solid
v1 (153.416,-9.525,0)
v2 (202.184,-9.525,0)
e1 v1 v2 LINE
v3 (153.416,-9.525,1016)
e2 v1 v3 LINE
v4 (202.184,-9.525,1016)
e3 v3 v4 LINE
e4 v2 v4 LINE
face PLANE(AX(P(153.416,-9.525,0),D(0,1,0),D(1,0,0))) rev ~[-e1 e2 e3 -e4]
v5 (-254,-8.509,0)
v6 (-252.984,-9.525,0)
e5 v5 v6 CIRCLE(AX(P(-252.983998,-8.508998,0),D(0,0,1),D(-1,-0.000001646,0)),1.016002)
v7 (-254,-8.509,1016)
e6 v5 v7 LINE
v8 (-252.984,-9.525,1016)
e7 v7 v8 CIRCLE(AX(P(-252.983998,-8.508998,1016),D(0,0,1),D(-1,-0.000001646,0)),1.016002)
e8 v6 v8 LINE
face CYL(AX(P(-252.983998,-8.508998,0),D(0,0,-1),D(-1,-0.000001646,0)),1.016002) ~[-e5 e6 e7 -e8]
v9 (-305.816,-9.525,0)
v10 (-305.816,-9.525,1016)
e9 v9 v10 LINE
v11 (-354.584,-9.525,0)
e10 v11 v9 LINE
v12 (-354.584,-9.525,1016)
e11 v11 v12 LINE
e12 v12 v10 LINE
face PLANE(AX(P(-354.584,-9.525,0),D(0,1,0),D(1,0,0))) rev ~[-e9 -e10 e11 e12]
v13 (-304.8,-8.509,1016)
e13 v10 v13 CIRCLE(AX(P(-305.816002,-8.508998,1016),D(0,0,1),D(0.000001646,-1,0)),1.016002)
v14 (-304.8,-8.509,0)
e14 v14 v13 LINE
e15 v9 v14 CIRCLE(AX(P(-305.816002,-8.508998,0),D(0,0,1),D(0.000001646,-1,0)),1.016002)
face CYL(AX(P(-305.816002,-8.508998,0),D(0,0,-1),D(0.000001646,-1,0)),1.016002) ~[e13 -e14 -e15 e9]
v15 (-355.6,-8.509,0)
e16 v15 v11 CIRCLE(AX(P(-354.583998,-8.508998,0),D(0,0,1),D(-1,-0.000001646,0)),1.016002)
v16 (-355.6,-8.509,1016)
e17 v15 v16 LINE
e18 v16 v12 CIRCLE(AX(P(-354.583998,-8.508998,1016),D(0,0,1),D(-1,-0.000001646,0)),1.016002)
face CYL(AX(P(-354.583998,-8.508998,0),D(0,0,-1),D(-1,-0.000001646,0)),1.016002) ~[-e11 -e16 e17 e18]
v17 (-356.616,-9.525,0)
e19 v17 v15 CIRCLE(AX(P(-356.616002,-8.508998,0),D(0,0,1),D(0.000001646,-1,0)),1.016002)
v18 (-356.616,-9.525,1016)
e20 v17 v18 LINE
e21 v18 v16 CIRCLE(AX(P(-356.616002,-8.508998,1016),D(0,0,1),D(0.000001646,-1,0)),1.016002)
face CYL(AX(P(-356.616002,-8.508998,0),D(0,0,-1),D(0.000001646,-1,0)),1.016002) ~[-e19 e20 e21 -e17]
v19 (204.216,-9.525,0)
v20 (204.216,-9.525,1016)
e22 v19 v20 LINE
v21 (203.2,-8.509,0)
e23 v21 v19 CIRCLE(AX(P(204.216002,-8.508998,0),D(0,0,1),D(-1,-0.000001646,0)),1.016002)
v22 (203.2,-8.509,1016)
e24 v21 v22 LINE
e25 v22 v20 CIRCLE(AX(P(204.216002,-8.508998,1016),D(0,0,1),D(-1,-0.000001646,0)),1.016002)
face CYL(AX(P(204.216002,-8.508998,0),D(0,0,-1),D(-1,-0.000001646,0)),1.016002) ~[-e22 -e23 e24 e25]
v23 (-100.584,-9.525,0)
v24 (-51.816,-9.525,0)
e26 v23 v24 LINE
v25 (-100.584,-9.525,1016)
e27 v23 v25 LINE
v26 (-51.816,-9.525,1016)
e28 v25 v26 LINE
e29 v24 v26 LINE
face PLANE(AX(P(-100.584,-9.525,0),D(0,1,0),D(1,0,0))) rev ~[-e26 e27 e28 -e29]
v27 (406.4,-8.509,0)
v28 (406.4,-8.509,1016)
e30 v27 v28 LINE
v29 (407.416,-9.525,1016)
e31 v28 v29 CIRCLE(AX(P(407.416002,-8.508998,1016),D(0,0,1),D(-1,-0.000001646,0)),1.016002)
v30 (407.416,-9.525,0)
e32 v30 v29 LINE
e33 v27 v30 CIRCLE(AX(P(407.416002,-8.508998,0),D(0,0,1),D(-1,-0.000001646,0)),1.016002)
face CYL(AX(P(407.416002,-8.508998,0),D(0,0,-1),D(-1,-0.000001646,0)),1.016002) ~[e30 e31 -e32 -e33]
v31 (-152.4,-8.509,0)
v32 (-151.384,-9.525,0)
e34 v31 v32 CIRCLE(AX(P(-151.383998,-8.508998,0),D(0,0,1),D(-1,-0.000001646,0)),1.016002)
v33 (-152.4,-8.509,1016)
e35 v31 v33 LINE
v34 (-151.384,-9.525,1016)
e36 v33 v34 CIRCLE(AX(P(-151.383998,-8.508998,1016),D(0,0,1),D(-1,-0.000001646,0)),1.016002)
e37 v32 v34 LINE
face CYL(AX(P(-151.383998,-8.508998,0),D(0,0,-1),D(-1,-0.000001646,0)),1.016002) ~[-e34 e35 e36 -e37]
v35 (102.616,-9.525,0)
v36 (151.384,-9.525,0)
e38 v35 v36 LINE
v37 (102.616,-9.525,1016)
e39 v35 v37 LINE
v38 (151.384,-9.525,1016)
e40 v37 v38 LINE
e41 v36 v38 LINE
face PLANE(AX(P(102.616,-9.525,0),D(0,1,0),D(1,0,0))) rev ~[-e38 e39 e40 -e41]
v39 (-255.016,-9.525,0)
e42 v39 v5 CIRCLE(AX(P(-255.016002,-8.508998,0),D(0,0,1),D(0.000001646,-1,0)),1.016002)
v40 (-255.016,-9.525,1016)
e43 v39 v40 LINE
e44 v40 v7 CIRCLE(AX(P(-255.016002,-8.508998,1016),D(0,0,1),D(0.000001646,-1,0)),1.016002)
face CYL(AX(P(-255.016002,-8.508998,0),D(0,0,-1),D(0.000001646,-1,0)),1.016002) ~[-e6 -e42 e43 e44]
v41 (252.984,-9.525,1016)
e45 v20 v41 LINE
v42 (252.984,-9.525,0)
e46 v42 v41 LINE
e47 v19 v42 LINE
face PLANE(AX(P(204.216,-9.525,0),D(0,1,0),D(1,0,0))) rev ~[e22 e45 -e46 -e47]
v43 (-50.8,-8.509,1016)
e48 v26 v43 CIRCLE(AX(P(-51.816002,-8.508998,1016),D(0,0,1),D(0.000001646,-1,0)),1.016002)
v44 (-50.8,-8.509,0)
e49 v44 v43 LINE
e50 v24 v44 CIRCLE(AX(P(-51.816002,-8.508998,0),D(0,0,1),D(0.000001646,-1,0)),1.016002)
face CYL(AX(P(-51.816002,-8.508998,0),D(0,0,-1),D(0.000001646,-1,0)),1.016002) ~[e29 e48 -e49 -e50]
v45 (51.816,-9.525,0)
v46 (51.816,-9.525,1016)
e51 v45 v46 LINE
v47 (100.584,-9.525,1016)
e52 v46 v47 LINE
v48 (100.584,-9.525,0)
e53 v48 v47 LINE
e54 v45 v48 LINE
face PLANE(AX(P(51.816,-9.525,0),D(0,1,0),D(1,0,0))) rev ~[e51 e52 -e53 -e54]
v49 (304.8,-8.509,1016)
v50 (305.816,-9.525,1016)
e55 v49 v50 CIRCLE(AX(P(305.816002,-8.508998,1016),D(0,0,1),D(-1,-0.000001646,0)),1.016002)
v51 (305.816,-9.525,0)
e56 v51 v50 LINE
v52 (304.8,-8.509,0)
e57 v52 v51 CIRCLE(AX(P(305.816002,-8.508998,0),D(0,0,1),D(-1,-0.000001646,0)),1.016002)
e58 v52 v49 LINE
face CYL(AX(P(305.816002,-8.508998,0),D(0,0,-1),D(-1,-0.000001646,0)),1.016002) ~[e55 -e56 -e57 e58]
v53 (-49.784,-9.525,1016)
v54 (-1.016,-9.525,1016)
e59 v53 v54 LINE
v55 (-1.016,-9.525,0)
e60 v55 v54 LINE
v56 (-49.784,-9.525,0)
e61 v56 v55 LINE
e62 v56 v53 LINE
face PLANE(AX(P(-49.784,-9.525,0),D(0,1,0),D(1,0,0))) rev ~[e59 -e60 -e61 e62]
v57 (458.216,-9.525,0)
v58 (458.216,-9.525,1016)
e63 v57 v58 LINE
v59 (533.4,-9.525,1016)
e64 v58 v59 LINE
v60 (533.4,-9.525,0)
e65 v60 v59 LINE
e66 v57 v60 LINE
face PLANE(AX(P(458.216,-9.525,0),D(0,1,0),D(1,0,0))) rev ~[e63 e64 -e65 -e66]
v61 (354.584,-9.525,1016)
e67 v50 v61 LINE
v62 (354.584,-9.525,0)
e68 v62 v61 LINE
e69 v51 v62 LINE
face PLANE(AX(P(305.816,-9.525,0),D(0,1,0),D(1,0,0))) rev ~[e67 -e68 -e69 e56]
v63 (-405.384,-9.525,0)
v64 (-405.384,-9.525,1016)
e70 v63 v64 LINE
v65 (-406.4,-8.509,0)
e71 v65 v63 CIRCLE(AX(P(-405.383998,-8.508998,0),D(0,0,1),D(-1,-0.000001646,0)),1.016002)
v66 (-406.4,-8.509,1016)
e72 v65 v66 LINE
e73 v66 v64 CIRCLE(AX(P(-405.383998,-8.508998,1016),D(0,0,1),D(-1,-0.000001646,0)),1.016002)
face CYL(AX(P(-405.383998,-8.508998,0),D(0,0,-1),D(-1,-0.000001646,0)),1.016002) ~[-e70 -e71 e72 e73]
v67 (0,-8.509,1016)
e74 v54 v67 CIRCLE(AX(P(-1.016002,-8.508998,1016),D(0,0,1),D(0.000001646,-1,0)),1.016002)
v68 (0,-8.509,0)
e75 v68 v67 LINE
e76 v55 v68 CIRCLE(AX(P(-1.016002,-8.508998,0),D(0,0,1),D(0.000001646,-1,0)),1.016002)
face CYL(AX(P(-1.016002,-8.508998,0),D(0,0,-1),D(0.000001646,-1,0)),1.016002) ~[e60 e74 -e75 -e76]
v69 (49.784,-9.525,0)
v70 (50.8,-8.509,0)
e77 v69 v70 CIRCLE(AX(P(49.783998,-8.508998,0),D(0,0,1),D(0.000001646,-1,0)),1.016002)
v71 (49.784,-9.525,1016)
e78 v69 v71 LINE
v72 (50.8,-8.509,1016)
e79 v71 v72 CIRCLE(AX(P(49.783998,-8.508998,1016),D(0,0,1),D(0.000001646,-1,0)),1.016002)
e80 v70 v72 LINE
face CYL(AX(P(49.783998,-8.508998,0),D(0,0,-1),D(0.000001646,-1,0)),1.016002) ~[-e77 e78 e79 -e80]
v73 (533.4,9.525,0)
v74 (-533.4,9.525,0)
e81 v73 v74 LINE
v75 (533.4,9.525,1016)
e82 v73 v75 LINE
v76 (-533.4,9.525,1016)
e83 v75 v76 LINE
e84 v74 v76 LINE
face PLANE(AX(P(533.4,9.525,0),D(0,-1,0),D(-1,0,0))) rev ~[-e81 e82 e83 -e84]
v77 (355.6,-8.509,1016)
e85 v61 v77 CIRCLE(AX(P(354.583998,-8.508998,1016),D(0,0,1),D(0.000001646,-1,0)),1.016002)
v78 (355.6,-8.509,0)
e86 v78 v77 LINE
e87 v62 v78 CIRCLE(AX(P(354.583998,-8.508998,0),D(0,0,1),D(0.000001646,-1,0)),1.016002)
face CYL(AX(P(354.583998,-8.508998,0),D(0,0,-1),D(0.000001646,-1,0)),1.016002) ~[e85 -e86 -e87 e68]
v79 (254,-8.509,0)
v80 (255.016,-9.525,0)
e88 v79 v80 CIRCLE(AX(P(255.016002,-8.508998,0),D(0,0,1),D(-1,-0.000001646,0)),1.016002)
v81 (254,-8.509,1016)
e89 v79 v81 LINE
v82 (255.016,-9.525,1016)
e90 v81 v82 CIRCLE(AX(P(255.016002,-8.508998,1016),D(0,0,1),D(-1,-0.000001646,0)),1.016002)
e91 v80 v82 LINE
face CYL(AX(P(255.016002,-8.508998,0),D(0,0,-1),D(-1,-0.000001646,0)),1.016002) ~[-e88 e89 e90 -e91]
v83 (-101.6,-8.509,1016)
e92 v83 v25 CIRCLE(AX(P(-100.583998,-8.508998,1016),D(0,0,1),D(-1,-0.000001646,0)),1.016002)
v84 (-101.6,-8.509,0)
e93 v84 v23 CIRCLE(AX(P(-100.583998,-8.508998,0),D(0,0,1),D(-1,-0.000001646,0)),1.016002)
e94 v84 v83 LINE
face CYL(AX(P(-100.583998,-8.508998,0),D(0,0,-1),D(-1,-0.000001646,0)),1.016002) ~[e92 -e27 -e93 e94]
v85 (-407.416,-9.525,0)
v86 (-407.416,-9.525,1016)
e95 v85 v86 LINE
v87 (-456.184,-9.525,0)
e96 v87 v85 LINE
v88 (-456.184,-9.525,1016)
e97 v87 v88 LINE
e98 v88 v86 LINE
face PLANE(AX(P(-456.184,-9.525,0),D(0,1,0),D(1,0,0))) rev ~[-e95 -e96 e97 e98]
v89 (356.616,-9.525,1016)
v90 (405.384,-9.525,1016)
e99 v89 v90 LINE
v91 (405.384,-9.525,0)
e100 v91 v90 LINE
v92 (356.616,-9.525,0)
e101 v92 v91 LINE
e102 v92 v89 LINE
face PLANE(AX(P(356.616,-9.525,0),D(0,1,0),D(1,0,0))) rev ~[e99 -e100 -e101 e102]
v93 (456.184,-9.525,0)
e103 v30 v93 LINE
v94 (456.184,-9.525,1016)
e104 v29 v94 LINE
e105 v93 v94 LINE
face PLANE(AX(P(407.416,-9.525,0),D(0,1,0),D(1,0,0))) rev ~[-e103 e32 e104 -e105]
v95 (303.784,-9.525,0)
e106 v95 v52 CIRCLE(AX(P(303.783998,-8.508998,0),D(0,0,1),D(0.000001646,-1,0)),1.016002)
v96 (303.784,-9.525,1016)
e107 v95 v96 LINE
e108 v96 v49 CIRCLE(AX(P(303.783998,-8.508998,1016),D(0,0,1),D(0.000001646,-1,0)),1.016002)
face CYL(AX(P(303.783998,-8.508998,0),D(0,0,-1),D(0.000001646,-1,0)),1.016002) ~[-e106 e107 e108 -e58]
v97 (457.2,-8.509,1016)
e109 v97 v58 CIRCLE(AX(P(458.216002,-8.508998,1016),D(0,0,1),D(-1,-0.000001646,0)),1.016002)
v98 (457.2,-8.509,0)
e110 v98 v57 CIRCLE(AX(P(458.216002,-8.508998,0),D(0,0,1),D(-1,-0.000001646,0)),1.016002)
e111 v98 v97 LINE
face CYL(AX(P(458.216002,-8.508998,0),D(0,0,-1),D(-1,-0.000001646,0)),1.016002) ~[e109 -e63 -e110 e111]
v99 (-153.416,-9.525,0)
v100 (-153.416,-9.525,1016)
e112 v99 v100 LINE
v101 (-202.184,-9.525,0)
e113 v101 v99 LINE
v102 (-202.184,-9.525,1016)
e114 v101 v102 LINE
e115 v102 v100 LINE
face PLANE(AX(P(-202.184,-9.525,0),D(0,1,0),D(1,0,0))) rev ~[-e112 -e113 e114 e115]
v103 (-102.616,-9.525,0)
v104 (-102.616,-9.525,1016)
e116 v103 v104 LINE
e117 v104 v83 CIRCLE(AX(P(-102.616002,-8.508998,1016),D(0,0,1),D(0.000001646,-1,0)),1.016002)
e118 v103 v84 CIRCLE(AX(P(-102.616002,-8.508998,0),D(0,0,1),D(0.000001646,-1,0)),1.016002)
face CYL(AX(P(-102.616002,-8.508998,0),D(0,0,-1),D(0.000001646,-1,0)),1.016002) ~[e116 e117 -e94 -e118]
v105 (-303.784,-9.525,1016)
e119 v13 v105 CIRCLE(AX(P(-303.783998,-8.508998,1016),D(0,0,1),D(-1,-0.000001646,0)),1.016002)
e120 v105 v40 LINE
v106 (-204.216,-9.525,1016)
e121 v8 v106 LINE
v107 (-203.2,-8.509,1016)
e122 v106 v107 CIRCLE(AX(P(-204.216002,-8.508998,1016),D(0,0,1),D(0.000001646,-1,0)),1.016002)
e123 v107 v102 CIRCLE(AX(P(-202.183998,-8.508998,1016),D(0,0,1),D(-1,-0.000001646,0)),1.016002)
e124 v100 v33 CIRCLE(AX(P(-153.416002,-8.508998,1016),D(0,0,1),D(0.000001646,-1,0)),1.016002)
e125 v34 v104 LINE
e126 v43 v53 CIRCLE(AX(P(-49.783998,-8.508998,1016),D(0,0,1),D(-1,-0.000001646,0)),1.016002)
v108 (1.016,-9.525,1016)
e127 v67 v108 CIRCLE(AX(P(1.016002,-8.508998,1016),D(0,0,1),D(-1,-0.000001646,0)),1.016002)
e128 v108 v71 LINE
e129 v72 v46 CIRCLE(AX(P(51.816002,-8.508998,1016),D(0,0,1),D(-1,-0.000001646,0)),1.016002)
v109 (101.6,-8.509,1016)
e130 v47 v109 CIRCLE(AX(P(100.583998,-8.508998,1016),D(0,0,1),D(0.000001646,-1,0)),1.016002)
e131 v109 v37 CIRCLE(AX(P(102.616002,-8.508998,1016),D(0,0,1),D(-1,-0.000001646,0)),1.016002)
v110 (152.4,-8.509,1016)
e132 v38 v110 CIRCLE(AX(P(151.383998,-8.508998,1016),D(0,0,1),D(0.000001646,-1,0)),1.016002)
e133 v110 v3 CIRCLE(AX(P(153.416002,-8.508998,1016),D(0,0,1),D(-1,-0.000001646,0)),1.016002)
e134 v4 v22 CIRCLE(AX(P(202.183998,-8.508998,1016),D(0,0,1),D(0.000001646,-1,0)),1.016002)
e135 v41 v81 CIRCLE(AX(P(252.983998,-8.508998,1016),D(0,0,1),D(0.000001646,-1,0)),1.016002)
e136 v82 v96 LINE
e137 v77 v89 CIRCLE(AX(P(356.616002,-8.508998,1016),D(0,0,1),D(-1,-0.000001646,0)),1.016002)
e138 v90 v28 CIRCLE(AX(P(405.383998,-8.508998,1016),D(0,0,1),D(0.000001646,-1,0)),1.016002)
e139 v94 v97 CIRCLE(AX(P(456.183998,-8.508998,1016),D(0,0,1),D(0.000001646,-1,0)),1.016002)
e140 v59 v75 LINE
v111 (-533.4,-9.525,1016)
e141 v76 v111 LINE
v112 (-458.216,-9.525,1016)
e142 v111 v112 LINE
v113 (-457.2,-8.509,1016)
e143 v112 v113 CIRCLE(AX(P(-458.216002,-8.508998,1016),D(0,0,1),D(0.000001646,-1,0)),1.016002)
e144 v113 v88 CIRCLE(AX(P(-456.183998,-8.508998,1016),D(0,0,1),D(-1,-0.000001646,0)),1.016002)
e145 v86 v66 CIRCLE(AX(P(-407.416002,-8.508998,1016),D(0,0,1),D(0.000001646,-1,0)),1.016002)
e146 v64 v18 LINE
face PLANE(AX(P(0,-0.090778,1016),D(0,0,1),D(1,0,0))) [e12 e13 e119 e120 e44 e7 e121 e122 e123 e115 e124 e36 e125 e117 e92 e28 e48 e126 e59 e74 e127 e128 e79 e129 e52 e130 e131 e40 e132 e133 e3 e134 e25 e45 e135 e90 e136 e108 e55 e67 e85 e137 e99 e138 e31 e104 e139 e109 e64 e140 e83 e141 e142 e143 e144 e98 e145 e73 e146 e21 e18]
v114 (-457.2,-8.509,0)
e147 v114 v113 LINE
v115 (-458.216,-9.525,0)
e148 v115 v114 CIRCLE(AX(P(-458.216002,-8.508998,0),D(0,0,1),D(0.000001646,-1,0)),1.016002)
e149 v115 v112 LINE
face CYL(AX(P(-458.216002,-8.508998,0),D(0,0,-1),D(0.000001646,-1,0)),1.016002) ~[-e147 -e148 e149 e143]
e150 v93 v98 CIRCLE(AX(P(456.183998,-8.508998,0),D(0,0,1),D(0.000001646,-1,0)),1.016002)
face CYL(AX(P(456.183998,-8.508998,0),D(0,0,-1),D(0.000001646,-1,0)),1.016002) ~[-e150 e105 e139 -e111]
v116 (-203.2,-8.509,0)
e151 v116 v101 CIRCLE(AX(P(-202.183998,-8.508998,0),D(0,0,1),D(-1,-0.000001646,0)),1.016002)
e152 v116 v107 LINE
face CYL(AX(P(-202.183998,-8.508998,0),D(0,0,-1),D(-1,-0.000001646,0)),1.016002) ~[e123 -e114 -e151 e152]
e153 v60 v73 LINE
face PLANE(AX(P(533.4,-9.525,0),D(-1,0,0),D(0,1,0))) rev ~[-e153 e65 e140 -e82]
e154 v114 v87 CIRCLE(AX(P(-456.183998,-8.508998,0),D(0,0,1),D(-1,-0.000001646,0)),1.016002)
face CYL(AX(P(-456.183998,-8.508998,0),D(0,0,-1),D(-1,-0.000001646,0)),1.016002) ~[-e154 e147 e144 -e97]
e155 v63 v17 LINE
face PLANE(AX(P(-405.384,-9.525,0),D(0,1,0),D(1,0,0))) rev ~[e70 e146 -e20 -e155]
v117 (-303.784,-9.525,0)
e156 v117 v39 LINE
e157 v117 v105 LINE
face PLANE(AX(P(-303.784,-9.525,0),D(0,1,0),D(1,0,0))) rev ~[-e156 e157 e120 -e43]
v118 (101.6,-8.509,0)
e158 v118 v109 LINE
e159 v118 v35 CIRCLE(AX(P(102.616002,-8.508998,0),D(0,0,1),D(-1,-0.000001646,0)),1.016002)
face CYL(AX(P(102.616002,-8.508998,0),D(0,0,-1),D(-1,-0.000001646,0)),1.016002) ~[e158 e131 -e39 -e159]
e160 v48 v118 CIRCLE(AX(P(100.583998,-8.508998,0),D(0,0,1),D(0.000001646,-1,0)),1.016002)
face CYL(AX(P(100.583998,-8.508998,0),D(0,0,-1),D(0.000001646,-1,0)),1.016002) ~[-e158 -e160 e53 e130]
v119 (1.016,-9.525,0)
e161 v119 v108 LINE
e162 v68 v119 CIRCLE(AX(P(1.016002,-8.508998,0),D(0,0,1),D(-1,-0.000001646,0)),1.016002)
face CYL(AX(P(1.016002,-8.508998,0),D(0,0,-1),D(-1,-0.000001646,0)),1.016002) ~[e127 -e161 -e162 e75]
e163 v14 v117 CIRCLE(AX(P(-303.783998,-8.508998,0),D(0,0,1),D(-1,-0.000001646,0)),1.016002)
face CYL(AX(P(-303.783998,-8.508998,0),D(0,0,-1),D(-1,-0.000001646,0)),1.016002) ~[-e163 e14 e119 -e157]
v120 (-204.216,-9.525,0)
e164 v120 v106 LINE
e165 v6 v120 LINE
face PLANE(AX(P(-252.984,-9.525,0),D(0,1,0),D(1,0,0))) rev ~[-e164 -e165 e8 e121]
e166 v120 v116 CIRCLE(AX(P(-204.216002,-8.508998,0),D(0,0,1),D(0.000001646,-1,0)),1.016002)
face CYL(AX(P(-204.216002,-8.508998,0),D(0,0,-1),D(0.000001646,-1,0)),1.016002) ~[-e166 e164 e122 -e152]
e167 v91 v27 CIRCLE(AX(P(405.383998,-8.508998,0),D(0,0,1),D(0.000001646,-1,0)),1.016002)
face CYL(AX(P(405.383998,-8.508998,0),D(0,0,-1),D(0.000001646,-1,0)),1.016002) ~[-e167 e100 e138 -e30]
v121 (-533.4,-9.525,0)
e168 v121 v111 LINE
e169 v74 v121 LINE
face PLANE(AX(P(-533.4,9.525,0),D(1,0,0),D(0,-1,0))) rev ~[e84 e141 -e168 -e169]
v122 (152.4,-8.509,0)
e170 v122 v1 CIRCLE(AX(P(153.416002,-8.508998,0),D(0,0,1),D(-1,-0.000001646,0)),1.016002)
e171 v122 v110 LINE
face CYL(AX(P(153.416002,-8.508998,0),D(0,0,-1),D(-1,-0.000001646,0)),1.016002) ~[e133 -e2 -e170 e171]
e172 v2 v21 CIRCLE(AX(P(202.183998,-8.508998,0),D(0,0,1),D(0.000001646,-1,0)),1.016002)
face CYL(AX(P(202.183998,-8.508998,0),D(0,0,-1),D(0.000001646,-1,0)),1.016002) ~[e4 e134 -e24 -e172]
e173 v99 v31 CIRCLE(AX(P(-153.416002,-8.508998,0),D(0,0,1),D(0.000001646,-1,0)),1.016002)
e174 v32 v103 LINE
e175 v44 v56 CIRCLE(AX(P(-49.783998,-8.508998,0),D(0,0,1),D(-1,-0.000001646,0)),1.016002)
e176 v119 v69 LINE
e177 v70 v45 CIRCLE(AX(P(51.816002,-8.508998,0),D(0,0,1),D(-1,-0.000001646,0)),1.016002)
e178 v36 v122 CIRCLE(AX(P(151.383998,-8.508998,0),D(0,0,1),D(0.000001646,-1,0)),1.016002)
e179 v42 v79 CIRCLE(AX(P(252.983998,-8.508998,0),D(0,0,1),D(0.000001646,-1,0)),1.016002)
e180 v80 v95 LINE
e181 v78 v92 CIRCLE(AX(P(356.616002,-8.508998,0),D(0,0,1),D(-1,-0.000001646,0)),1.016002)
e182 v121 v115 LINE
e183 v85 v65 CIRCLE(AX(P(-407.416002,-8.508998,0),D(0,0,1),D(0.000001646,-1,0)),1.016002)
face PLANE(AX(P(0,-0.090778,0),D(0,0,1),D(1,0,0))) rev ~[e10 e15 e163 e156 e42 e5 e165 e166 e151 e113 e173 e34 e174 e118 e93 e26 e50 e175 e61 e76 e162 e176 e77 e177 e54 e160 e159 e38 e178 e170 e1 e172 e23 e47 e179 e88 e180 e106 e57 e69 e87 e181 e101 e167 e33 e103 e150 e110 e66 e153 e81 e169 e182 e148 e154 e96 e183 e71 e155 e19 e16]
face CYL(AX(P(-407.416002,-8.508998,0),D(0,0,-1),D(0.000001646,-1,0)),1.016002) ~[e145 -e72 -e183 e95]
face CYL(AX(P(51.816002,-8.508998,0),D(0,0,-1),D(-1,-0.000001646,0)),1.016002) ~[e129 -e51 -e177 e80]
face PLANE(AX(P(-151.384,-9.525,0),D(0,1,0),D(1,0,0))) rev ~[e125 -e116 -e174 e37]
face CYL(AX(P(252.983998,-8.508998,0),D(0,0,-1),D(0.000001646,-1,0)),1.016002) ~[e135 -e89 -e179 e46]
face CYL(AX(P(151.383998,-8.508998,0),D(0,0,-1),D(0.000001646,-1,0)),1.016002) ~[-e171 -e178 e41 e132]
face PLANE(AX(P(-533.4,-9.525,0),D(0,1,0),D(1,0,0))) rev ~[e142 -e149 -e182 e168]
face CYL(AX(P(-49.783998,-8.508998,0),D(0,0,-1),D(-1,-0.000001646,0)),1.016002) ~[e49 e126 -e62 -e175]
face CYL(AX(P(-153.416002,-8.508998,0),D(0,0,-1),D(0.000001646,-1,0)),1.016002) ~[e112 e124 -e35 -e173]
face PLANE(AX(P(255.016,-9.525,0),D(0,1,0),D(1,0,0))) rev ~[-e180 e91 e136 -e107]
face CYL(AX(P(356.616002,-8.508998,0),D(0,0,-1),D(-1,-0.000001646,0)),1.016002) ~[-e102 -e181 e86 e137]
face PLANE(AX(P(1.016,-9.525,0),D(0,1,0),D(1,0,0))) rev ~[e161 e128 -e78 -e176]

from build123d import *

# Parameters (mm, degrees)
F1_DEPTH = 1016


with BuildPart() as f1:
    # F0 (on Top) → F1 (new body)
    with BuildSketch(Plane.XY):
        with BuildLine():
            Line((509.016, -9.525), (533.4, -9.525))
            Line((533.4, -9.525), (533.4, 9.525))
            Line((533.4, 9.525), (-533.4, 9.525))
            Line((-533.4, 9.525), (-533.4, -9.525))
            Line((-533.4, -9.525), (-509.016, -9.525))
            ThreePointArc((-509.016, -9.525), (-508.29758, -9.22742), (-508, -8.509))
            ThreePointArc((-508, -8.509), (-507.70242, -9.22742), (-506.984, -9.525))
            Line((-506.984, -9.525), (-458.216, -9.525))
            ThreePointArc((-458.216, -9.525), (-457.49758, -9.22742), (-457.2, -8.509))
            ThreePointArc((-457.2, -8.509), (-456.90242, -9.22742), (-456.184, -9.525))
            Line((-456.184, -9.525), (-407.416, -9.525))
            ThreePointArc((-407.416, -9.525), (-406.69758, -9.22742), (-406.4, -8.509))
            ThreePointArc((-406.4, -8.509), (-406.10242, -9.22742), (-405.384, -9.525))
            Line((-405.384, -9.525), (-356.616, -9.525))
            ThreePointArc((-356.616, -9.525), (-355.89758, -9.22742), (-355.6, -8.509))
            ThreePointArc((-355.6, -8.509), (-355.30242, -9.22742), (-354.584, -9.525))
            Line((-354.584, -9.525), (-305.816, -9.525))
            ThreePointArc((-305.816, -9.525), (-305.09758, -9.22742), (-304.8, -8.509))
            ThreePointArc((-304.8, -8.509), (-304.50242, -9.22742), (-303.784, -9.525))
            Line((-303.784, -9.525), (-255.016, -9.525))
            ThreePointArc((-255.016, -9.525), (-254.29758, -9.22742), (-254, -8.509))
            ThreePointArc((-254, -8.509), (-253.70242, -9.22742), (-252.984, -9.525))
            Line((-252.984, -9.525), (-204.216, -9.525))
            ThreePointArc((-204.216, -9.525), (-203.49758, -9.22742), (-203.2, -8.509))
            ThreePointArc((-203.2, -8.509), (-202.90242, -9.22742), (-202.184, -9.525))
            Line((-202.184, -9.525), (-153.416, -9.525))
            ThreePointArc((-153.416, -9.525), (-152.69758, -9.22742), (-152.4, -8.509))
            ThreePointArc((-152.4, -8.509), (-152.10242, -9.22742), (-151.384, -9.525))
            Line((-151.384, -9.525), (-102.616, -9.525))
            ThreePointArc((-102.616, -9.525), (-101.89758, -9.22742), (-101.6, -8.509))
            ThreePointArc((-101.6, -8.509), (-101.30242, -9.22742), (-100.584, -9.525))
            Line((-100.584, -9.525), (-51.816, -9.525))
            ThreePointArc((-51.816, -9.525), (-51.09758, -9.22742), (-50.8, -8.509))
            ThreePointArc((-50.8, -8.509), (-50.50242, -9.22742), (-49.784, -9.525))
            Line((-49.784, -9.525), (-1.016, -9.525))
            ThreePointArc((-1.016, -9.525), (-0.29758, -9.22742), (0, -8.509))
            ThreePointArc((0, -8.509), (0.29758, -9.22742), (1.016, -9.525))
            Line((1.016, -9.525), (49.784, -9.525))
            ThreePointArc((49.784, -9.525), (50.50242, -9.22742), (50.8, -8.509))
            ThreePointArc((50.8, -8.509), (51.09758, -9.22742), (51.816, -9.525))
            Line((51.816, -9.525), (100.584, -9.525))
            ThreePointArc((100.584, -9.525), (101.30242, -9.22742), (101.6, -8.509))
            ThreePointArc((101.6, -8.509), (101.89758, -9.22742), (102.616, -9.525))
            Line((102.616, -9.525), (151.384, -9.525))
            ThreePointArc((151.384, -9.525), (152.10242, -9.22742), (152.4, -8.509))
            ThreePointArc((152.4, -8.509), (152.69758, -9.22742), (153.416, -9.525))
            Line((153.416, -9.525), (202.184, -9.525))
            ThreePointArc((202.184, -9.525), (202.90242, -9.22742), (203.2, -8.509))
            ThreePointArc((203.2, -8.509), (203.49758, -9.22742), (204.216, -9.525))
            Line((204.216, -9.525), (252.984, -9.525))
            ThreePointArc((252.984, -9.525), (253.70242, -9.22742), (254, -8.509))
            ThreePointArc((254, -8.509), (254.29758, -9.22742), (255.016, -9.525))
            Line((255.016, -9.525), (303.784, -9.525))
            ThreePointArc((303.784, -9.525), (304.50242, -9.22742), (304.8, -8.509))
            ThreePointArc((304.8, -8.509), (305.09758, -9.22742), (305.816, -9.525))
            Line((305.816, -9.525), (354.584, -9.525))
            ThreePointArc((354.584, -9.525), (355.30242, -9.22742), (355.6, -8.509))
            ThreePointArc((355.6, -8.509), (355.89758, -9.22742), (356.616, -9.525))
            Line((356.616, -9.525), (405.384, -9.525))
            ThreePointArc((405.384, -9.525), (406.10242, -9.22742), (406.4, -8.509))
            ThreePointArc((406.4, -8.509), (406.69758, -9.22742), (407.416, -9.525))
            Line((407.416, -9.525), (456.184, -9.525))
            ThreePointArc((456.184, -9.525), (456.90242, -9.22742), (457.2, -8.509))
            ThreePointArc((457.2, -8.509), (457.49758, -9.22742), (458.216, -9.525))
            Line((458.216, -9.525), (506.984, -9.525))
            ThreePointArc((506.984, -9.525), (507.70242, -9.22742), (508, -8.509))
            ThreePointArc((508, -8.509), (508.29758, -9.22742), (509.016, -9.525))
        make_face()
        with BuildLine():
            Line((506.984, -9.525), (509.016, -9.525))
            ThreePointArc((509.016, -9.525), (508.29758, -9.22742), (508, -8.509))
            ThreePointArc((508, -8.509), (507.70242, -9.22742), (506.984, -9.525))
        make_face()
        with BuildLine():
            ThreePointArc((-508, -8.509), (-508.29758, -9.22742), (-509.016, -9.525))
            Line((-509.016, -9.525), (-506.984, -9.525))
            ThreePointArc((-506.984, -9.525), (-507.70242, -9.22742), (-508, -8.509))
        make_face()
    extrude(amount=F1_DEPTH)


solid = f1.part
